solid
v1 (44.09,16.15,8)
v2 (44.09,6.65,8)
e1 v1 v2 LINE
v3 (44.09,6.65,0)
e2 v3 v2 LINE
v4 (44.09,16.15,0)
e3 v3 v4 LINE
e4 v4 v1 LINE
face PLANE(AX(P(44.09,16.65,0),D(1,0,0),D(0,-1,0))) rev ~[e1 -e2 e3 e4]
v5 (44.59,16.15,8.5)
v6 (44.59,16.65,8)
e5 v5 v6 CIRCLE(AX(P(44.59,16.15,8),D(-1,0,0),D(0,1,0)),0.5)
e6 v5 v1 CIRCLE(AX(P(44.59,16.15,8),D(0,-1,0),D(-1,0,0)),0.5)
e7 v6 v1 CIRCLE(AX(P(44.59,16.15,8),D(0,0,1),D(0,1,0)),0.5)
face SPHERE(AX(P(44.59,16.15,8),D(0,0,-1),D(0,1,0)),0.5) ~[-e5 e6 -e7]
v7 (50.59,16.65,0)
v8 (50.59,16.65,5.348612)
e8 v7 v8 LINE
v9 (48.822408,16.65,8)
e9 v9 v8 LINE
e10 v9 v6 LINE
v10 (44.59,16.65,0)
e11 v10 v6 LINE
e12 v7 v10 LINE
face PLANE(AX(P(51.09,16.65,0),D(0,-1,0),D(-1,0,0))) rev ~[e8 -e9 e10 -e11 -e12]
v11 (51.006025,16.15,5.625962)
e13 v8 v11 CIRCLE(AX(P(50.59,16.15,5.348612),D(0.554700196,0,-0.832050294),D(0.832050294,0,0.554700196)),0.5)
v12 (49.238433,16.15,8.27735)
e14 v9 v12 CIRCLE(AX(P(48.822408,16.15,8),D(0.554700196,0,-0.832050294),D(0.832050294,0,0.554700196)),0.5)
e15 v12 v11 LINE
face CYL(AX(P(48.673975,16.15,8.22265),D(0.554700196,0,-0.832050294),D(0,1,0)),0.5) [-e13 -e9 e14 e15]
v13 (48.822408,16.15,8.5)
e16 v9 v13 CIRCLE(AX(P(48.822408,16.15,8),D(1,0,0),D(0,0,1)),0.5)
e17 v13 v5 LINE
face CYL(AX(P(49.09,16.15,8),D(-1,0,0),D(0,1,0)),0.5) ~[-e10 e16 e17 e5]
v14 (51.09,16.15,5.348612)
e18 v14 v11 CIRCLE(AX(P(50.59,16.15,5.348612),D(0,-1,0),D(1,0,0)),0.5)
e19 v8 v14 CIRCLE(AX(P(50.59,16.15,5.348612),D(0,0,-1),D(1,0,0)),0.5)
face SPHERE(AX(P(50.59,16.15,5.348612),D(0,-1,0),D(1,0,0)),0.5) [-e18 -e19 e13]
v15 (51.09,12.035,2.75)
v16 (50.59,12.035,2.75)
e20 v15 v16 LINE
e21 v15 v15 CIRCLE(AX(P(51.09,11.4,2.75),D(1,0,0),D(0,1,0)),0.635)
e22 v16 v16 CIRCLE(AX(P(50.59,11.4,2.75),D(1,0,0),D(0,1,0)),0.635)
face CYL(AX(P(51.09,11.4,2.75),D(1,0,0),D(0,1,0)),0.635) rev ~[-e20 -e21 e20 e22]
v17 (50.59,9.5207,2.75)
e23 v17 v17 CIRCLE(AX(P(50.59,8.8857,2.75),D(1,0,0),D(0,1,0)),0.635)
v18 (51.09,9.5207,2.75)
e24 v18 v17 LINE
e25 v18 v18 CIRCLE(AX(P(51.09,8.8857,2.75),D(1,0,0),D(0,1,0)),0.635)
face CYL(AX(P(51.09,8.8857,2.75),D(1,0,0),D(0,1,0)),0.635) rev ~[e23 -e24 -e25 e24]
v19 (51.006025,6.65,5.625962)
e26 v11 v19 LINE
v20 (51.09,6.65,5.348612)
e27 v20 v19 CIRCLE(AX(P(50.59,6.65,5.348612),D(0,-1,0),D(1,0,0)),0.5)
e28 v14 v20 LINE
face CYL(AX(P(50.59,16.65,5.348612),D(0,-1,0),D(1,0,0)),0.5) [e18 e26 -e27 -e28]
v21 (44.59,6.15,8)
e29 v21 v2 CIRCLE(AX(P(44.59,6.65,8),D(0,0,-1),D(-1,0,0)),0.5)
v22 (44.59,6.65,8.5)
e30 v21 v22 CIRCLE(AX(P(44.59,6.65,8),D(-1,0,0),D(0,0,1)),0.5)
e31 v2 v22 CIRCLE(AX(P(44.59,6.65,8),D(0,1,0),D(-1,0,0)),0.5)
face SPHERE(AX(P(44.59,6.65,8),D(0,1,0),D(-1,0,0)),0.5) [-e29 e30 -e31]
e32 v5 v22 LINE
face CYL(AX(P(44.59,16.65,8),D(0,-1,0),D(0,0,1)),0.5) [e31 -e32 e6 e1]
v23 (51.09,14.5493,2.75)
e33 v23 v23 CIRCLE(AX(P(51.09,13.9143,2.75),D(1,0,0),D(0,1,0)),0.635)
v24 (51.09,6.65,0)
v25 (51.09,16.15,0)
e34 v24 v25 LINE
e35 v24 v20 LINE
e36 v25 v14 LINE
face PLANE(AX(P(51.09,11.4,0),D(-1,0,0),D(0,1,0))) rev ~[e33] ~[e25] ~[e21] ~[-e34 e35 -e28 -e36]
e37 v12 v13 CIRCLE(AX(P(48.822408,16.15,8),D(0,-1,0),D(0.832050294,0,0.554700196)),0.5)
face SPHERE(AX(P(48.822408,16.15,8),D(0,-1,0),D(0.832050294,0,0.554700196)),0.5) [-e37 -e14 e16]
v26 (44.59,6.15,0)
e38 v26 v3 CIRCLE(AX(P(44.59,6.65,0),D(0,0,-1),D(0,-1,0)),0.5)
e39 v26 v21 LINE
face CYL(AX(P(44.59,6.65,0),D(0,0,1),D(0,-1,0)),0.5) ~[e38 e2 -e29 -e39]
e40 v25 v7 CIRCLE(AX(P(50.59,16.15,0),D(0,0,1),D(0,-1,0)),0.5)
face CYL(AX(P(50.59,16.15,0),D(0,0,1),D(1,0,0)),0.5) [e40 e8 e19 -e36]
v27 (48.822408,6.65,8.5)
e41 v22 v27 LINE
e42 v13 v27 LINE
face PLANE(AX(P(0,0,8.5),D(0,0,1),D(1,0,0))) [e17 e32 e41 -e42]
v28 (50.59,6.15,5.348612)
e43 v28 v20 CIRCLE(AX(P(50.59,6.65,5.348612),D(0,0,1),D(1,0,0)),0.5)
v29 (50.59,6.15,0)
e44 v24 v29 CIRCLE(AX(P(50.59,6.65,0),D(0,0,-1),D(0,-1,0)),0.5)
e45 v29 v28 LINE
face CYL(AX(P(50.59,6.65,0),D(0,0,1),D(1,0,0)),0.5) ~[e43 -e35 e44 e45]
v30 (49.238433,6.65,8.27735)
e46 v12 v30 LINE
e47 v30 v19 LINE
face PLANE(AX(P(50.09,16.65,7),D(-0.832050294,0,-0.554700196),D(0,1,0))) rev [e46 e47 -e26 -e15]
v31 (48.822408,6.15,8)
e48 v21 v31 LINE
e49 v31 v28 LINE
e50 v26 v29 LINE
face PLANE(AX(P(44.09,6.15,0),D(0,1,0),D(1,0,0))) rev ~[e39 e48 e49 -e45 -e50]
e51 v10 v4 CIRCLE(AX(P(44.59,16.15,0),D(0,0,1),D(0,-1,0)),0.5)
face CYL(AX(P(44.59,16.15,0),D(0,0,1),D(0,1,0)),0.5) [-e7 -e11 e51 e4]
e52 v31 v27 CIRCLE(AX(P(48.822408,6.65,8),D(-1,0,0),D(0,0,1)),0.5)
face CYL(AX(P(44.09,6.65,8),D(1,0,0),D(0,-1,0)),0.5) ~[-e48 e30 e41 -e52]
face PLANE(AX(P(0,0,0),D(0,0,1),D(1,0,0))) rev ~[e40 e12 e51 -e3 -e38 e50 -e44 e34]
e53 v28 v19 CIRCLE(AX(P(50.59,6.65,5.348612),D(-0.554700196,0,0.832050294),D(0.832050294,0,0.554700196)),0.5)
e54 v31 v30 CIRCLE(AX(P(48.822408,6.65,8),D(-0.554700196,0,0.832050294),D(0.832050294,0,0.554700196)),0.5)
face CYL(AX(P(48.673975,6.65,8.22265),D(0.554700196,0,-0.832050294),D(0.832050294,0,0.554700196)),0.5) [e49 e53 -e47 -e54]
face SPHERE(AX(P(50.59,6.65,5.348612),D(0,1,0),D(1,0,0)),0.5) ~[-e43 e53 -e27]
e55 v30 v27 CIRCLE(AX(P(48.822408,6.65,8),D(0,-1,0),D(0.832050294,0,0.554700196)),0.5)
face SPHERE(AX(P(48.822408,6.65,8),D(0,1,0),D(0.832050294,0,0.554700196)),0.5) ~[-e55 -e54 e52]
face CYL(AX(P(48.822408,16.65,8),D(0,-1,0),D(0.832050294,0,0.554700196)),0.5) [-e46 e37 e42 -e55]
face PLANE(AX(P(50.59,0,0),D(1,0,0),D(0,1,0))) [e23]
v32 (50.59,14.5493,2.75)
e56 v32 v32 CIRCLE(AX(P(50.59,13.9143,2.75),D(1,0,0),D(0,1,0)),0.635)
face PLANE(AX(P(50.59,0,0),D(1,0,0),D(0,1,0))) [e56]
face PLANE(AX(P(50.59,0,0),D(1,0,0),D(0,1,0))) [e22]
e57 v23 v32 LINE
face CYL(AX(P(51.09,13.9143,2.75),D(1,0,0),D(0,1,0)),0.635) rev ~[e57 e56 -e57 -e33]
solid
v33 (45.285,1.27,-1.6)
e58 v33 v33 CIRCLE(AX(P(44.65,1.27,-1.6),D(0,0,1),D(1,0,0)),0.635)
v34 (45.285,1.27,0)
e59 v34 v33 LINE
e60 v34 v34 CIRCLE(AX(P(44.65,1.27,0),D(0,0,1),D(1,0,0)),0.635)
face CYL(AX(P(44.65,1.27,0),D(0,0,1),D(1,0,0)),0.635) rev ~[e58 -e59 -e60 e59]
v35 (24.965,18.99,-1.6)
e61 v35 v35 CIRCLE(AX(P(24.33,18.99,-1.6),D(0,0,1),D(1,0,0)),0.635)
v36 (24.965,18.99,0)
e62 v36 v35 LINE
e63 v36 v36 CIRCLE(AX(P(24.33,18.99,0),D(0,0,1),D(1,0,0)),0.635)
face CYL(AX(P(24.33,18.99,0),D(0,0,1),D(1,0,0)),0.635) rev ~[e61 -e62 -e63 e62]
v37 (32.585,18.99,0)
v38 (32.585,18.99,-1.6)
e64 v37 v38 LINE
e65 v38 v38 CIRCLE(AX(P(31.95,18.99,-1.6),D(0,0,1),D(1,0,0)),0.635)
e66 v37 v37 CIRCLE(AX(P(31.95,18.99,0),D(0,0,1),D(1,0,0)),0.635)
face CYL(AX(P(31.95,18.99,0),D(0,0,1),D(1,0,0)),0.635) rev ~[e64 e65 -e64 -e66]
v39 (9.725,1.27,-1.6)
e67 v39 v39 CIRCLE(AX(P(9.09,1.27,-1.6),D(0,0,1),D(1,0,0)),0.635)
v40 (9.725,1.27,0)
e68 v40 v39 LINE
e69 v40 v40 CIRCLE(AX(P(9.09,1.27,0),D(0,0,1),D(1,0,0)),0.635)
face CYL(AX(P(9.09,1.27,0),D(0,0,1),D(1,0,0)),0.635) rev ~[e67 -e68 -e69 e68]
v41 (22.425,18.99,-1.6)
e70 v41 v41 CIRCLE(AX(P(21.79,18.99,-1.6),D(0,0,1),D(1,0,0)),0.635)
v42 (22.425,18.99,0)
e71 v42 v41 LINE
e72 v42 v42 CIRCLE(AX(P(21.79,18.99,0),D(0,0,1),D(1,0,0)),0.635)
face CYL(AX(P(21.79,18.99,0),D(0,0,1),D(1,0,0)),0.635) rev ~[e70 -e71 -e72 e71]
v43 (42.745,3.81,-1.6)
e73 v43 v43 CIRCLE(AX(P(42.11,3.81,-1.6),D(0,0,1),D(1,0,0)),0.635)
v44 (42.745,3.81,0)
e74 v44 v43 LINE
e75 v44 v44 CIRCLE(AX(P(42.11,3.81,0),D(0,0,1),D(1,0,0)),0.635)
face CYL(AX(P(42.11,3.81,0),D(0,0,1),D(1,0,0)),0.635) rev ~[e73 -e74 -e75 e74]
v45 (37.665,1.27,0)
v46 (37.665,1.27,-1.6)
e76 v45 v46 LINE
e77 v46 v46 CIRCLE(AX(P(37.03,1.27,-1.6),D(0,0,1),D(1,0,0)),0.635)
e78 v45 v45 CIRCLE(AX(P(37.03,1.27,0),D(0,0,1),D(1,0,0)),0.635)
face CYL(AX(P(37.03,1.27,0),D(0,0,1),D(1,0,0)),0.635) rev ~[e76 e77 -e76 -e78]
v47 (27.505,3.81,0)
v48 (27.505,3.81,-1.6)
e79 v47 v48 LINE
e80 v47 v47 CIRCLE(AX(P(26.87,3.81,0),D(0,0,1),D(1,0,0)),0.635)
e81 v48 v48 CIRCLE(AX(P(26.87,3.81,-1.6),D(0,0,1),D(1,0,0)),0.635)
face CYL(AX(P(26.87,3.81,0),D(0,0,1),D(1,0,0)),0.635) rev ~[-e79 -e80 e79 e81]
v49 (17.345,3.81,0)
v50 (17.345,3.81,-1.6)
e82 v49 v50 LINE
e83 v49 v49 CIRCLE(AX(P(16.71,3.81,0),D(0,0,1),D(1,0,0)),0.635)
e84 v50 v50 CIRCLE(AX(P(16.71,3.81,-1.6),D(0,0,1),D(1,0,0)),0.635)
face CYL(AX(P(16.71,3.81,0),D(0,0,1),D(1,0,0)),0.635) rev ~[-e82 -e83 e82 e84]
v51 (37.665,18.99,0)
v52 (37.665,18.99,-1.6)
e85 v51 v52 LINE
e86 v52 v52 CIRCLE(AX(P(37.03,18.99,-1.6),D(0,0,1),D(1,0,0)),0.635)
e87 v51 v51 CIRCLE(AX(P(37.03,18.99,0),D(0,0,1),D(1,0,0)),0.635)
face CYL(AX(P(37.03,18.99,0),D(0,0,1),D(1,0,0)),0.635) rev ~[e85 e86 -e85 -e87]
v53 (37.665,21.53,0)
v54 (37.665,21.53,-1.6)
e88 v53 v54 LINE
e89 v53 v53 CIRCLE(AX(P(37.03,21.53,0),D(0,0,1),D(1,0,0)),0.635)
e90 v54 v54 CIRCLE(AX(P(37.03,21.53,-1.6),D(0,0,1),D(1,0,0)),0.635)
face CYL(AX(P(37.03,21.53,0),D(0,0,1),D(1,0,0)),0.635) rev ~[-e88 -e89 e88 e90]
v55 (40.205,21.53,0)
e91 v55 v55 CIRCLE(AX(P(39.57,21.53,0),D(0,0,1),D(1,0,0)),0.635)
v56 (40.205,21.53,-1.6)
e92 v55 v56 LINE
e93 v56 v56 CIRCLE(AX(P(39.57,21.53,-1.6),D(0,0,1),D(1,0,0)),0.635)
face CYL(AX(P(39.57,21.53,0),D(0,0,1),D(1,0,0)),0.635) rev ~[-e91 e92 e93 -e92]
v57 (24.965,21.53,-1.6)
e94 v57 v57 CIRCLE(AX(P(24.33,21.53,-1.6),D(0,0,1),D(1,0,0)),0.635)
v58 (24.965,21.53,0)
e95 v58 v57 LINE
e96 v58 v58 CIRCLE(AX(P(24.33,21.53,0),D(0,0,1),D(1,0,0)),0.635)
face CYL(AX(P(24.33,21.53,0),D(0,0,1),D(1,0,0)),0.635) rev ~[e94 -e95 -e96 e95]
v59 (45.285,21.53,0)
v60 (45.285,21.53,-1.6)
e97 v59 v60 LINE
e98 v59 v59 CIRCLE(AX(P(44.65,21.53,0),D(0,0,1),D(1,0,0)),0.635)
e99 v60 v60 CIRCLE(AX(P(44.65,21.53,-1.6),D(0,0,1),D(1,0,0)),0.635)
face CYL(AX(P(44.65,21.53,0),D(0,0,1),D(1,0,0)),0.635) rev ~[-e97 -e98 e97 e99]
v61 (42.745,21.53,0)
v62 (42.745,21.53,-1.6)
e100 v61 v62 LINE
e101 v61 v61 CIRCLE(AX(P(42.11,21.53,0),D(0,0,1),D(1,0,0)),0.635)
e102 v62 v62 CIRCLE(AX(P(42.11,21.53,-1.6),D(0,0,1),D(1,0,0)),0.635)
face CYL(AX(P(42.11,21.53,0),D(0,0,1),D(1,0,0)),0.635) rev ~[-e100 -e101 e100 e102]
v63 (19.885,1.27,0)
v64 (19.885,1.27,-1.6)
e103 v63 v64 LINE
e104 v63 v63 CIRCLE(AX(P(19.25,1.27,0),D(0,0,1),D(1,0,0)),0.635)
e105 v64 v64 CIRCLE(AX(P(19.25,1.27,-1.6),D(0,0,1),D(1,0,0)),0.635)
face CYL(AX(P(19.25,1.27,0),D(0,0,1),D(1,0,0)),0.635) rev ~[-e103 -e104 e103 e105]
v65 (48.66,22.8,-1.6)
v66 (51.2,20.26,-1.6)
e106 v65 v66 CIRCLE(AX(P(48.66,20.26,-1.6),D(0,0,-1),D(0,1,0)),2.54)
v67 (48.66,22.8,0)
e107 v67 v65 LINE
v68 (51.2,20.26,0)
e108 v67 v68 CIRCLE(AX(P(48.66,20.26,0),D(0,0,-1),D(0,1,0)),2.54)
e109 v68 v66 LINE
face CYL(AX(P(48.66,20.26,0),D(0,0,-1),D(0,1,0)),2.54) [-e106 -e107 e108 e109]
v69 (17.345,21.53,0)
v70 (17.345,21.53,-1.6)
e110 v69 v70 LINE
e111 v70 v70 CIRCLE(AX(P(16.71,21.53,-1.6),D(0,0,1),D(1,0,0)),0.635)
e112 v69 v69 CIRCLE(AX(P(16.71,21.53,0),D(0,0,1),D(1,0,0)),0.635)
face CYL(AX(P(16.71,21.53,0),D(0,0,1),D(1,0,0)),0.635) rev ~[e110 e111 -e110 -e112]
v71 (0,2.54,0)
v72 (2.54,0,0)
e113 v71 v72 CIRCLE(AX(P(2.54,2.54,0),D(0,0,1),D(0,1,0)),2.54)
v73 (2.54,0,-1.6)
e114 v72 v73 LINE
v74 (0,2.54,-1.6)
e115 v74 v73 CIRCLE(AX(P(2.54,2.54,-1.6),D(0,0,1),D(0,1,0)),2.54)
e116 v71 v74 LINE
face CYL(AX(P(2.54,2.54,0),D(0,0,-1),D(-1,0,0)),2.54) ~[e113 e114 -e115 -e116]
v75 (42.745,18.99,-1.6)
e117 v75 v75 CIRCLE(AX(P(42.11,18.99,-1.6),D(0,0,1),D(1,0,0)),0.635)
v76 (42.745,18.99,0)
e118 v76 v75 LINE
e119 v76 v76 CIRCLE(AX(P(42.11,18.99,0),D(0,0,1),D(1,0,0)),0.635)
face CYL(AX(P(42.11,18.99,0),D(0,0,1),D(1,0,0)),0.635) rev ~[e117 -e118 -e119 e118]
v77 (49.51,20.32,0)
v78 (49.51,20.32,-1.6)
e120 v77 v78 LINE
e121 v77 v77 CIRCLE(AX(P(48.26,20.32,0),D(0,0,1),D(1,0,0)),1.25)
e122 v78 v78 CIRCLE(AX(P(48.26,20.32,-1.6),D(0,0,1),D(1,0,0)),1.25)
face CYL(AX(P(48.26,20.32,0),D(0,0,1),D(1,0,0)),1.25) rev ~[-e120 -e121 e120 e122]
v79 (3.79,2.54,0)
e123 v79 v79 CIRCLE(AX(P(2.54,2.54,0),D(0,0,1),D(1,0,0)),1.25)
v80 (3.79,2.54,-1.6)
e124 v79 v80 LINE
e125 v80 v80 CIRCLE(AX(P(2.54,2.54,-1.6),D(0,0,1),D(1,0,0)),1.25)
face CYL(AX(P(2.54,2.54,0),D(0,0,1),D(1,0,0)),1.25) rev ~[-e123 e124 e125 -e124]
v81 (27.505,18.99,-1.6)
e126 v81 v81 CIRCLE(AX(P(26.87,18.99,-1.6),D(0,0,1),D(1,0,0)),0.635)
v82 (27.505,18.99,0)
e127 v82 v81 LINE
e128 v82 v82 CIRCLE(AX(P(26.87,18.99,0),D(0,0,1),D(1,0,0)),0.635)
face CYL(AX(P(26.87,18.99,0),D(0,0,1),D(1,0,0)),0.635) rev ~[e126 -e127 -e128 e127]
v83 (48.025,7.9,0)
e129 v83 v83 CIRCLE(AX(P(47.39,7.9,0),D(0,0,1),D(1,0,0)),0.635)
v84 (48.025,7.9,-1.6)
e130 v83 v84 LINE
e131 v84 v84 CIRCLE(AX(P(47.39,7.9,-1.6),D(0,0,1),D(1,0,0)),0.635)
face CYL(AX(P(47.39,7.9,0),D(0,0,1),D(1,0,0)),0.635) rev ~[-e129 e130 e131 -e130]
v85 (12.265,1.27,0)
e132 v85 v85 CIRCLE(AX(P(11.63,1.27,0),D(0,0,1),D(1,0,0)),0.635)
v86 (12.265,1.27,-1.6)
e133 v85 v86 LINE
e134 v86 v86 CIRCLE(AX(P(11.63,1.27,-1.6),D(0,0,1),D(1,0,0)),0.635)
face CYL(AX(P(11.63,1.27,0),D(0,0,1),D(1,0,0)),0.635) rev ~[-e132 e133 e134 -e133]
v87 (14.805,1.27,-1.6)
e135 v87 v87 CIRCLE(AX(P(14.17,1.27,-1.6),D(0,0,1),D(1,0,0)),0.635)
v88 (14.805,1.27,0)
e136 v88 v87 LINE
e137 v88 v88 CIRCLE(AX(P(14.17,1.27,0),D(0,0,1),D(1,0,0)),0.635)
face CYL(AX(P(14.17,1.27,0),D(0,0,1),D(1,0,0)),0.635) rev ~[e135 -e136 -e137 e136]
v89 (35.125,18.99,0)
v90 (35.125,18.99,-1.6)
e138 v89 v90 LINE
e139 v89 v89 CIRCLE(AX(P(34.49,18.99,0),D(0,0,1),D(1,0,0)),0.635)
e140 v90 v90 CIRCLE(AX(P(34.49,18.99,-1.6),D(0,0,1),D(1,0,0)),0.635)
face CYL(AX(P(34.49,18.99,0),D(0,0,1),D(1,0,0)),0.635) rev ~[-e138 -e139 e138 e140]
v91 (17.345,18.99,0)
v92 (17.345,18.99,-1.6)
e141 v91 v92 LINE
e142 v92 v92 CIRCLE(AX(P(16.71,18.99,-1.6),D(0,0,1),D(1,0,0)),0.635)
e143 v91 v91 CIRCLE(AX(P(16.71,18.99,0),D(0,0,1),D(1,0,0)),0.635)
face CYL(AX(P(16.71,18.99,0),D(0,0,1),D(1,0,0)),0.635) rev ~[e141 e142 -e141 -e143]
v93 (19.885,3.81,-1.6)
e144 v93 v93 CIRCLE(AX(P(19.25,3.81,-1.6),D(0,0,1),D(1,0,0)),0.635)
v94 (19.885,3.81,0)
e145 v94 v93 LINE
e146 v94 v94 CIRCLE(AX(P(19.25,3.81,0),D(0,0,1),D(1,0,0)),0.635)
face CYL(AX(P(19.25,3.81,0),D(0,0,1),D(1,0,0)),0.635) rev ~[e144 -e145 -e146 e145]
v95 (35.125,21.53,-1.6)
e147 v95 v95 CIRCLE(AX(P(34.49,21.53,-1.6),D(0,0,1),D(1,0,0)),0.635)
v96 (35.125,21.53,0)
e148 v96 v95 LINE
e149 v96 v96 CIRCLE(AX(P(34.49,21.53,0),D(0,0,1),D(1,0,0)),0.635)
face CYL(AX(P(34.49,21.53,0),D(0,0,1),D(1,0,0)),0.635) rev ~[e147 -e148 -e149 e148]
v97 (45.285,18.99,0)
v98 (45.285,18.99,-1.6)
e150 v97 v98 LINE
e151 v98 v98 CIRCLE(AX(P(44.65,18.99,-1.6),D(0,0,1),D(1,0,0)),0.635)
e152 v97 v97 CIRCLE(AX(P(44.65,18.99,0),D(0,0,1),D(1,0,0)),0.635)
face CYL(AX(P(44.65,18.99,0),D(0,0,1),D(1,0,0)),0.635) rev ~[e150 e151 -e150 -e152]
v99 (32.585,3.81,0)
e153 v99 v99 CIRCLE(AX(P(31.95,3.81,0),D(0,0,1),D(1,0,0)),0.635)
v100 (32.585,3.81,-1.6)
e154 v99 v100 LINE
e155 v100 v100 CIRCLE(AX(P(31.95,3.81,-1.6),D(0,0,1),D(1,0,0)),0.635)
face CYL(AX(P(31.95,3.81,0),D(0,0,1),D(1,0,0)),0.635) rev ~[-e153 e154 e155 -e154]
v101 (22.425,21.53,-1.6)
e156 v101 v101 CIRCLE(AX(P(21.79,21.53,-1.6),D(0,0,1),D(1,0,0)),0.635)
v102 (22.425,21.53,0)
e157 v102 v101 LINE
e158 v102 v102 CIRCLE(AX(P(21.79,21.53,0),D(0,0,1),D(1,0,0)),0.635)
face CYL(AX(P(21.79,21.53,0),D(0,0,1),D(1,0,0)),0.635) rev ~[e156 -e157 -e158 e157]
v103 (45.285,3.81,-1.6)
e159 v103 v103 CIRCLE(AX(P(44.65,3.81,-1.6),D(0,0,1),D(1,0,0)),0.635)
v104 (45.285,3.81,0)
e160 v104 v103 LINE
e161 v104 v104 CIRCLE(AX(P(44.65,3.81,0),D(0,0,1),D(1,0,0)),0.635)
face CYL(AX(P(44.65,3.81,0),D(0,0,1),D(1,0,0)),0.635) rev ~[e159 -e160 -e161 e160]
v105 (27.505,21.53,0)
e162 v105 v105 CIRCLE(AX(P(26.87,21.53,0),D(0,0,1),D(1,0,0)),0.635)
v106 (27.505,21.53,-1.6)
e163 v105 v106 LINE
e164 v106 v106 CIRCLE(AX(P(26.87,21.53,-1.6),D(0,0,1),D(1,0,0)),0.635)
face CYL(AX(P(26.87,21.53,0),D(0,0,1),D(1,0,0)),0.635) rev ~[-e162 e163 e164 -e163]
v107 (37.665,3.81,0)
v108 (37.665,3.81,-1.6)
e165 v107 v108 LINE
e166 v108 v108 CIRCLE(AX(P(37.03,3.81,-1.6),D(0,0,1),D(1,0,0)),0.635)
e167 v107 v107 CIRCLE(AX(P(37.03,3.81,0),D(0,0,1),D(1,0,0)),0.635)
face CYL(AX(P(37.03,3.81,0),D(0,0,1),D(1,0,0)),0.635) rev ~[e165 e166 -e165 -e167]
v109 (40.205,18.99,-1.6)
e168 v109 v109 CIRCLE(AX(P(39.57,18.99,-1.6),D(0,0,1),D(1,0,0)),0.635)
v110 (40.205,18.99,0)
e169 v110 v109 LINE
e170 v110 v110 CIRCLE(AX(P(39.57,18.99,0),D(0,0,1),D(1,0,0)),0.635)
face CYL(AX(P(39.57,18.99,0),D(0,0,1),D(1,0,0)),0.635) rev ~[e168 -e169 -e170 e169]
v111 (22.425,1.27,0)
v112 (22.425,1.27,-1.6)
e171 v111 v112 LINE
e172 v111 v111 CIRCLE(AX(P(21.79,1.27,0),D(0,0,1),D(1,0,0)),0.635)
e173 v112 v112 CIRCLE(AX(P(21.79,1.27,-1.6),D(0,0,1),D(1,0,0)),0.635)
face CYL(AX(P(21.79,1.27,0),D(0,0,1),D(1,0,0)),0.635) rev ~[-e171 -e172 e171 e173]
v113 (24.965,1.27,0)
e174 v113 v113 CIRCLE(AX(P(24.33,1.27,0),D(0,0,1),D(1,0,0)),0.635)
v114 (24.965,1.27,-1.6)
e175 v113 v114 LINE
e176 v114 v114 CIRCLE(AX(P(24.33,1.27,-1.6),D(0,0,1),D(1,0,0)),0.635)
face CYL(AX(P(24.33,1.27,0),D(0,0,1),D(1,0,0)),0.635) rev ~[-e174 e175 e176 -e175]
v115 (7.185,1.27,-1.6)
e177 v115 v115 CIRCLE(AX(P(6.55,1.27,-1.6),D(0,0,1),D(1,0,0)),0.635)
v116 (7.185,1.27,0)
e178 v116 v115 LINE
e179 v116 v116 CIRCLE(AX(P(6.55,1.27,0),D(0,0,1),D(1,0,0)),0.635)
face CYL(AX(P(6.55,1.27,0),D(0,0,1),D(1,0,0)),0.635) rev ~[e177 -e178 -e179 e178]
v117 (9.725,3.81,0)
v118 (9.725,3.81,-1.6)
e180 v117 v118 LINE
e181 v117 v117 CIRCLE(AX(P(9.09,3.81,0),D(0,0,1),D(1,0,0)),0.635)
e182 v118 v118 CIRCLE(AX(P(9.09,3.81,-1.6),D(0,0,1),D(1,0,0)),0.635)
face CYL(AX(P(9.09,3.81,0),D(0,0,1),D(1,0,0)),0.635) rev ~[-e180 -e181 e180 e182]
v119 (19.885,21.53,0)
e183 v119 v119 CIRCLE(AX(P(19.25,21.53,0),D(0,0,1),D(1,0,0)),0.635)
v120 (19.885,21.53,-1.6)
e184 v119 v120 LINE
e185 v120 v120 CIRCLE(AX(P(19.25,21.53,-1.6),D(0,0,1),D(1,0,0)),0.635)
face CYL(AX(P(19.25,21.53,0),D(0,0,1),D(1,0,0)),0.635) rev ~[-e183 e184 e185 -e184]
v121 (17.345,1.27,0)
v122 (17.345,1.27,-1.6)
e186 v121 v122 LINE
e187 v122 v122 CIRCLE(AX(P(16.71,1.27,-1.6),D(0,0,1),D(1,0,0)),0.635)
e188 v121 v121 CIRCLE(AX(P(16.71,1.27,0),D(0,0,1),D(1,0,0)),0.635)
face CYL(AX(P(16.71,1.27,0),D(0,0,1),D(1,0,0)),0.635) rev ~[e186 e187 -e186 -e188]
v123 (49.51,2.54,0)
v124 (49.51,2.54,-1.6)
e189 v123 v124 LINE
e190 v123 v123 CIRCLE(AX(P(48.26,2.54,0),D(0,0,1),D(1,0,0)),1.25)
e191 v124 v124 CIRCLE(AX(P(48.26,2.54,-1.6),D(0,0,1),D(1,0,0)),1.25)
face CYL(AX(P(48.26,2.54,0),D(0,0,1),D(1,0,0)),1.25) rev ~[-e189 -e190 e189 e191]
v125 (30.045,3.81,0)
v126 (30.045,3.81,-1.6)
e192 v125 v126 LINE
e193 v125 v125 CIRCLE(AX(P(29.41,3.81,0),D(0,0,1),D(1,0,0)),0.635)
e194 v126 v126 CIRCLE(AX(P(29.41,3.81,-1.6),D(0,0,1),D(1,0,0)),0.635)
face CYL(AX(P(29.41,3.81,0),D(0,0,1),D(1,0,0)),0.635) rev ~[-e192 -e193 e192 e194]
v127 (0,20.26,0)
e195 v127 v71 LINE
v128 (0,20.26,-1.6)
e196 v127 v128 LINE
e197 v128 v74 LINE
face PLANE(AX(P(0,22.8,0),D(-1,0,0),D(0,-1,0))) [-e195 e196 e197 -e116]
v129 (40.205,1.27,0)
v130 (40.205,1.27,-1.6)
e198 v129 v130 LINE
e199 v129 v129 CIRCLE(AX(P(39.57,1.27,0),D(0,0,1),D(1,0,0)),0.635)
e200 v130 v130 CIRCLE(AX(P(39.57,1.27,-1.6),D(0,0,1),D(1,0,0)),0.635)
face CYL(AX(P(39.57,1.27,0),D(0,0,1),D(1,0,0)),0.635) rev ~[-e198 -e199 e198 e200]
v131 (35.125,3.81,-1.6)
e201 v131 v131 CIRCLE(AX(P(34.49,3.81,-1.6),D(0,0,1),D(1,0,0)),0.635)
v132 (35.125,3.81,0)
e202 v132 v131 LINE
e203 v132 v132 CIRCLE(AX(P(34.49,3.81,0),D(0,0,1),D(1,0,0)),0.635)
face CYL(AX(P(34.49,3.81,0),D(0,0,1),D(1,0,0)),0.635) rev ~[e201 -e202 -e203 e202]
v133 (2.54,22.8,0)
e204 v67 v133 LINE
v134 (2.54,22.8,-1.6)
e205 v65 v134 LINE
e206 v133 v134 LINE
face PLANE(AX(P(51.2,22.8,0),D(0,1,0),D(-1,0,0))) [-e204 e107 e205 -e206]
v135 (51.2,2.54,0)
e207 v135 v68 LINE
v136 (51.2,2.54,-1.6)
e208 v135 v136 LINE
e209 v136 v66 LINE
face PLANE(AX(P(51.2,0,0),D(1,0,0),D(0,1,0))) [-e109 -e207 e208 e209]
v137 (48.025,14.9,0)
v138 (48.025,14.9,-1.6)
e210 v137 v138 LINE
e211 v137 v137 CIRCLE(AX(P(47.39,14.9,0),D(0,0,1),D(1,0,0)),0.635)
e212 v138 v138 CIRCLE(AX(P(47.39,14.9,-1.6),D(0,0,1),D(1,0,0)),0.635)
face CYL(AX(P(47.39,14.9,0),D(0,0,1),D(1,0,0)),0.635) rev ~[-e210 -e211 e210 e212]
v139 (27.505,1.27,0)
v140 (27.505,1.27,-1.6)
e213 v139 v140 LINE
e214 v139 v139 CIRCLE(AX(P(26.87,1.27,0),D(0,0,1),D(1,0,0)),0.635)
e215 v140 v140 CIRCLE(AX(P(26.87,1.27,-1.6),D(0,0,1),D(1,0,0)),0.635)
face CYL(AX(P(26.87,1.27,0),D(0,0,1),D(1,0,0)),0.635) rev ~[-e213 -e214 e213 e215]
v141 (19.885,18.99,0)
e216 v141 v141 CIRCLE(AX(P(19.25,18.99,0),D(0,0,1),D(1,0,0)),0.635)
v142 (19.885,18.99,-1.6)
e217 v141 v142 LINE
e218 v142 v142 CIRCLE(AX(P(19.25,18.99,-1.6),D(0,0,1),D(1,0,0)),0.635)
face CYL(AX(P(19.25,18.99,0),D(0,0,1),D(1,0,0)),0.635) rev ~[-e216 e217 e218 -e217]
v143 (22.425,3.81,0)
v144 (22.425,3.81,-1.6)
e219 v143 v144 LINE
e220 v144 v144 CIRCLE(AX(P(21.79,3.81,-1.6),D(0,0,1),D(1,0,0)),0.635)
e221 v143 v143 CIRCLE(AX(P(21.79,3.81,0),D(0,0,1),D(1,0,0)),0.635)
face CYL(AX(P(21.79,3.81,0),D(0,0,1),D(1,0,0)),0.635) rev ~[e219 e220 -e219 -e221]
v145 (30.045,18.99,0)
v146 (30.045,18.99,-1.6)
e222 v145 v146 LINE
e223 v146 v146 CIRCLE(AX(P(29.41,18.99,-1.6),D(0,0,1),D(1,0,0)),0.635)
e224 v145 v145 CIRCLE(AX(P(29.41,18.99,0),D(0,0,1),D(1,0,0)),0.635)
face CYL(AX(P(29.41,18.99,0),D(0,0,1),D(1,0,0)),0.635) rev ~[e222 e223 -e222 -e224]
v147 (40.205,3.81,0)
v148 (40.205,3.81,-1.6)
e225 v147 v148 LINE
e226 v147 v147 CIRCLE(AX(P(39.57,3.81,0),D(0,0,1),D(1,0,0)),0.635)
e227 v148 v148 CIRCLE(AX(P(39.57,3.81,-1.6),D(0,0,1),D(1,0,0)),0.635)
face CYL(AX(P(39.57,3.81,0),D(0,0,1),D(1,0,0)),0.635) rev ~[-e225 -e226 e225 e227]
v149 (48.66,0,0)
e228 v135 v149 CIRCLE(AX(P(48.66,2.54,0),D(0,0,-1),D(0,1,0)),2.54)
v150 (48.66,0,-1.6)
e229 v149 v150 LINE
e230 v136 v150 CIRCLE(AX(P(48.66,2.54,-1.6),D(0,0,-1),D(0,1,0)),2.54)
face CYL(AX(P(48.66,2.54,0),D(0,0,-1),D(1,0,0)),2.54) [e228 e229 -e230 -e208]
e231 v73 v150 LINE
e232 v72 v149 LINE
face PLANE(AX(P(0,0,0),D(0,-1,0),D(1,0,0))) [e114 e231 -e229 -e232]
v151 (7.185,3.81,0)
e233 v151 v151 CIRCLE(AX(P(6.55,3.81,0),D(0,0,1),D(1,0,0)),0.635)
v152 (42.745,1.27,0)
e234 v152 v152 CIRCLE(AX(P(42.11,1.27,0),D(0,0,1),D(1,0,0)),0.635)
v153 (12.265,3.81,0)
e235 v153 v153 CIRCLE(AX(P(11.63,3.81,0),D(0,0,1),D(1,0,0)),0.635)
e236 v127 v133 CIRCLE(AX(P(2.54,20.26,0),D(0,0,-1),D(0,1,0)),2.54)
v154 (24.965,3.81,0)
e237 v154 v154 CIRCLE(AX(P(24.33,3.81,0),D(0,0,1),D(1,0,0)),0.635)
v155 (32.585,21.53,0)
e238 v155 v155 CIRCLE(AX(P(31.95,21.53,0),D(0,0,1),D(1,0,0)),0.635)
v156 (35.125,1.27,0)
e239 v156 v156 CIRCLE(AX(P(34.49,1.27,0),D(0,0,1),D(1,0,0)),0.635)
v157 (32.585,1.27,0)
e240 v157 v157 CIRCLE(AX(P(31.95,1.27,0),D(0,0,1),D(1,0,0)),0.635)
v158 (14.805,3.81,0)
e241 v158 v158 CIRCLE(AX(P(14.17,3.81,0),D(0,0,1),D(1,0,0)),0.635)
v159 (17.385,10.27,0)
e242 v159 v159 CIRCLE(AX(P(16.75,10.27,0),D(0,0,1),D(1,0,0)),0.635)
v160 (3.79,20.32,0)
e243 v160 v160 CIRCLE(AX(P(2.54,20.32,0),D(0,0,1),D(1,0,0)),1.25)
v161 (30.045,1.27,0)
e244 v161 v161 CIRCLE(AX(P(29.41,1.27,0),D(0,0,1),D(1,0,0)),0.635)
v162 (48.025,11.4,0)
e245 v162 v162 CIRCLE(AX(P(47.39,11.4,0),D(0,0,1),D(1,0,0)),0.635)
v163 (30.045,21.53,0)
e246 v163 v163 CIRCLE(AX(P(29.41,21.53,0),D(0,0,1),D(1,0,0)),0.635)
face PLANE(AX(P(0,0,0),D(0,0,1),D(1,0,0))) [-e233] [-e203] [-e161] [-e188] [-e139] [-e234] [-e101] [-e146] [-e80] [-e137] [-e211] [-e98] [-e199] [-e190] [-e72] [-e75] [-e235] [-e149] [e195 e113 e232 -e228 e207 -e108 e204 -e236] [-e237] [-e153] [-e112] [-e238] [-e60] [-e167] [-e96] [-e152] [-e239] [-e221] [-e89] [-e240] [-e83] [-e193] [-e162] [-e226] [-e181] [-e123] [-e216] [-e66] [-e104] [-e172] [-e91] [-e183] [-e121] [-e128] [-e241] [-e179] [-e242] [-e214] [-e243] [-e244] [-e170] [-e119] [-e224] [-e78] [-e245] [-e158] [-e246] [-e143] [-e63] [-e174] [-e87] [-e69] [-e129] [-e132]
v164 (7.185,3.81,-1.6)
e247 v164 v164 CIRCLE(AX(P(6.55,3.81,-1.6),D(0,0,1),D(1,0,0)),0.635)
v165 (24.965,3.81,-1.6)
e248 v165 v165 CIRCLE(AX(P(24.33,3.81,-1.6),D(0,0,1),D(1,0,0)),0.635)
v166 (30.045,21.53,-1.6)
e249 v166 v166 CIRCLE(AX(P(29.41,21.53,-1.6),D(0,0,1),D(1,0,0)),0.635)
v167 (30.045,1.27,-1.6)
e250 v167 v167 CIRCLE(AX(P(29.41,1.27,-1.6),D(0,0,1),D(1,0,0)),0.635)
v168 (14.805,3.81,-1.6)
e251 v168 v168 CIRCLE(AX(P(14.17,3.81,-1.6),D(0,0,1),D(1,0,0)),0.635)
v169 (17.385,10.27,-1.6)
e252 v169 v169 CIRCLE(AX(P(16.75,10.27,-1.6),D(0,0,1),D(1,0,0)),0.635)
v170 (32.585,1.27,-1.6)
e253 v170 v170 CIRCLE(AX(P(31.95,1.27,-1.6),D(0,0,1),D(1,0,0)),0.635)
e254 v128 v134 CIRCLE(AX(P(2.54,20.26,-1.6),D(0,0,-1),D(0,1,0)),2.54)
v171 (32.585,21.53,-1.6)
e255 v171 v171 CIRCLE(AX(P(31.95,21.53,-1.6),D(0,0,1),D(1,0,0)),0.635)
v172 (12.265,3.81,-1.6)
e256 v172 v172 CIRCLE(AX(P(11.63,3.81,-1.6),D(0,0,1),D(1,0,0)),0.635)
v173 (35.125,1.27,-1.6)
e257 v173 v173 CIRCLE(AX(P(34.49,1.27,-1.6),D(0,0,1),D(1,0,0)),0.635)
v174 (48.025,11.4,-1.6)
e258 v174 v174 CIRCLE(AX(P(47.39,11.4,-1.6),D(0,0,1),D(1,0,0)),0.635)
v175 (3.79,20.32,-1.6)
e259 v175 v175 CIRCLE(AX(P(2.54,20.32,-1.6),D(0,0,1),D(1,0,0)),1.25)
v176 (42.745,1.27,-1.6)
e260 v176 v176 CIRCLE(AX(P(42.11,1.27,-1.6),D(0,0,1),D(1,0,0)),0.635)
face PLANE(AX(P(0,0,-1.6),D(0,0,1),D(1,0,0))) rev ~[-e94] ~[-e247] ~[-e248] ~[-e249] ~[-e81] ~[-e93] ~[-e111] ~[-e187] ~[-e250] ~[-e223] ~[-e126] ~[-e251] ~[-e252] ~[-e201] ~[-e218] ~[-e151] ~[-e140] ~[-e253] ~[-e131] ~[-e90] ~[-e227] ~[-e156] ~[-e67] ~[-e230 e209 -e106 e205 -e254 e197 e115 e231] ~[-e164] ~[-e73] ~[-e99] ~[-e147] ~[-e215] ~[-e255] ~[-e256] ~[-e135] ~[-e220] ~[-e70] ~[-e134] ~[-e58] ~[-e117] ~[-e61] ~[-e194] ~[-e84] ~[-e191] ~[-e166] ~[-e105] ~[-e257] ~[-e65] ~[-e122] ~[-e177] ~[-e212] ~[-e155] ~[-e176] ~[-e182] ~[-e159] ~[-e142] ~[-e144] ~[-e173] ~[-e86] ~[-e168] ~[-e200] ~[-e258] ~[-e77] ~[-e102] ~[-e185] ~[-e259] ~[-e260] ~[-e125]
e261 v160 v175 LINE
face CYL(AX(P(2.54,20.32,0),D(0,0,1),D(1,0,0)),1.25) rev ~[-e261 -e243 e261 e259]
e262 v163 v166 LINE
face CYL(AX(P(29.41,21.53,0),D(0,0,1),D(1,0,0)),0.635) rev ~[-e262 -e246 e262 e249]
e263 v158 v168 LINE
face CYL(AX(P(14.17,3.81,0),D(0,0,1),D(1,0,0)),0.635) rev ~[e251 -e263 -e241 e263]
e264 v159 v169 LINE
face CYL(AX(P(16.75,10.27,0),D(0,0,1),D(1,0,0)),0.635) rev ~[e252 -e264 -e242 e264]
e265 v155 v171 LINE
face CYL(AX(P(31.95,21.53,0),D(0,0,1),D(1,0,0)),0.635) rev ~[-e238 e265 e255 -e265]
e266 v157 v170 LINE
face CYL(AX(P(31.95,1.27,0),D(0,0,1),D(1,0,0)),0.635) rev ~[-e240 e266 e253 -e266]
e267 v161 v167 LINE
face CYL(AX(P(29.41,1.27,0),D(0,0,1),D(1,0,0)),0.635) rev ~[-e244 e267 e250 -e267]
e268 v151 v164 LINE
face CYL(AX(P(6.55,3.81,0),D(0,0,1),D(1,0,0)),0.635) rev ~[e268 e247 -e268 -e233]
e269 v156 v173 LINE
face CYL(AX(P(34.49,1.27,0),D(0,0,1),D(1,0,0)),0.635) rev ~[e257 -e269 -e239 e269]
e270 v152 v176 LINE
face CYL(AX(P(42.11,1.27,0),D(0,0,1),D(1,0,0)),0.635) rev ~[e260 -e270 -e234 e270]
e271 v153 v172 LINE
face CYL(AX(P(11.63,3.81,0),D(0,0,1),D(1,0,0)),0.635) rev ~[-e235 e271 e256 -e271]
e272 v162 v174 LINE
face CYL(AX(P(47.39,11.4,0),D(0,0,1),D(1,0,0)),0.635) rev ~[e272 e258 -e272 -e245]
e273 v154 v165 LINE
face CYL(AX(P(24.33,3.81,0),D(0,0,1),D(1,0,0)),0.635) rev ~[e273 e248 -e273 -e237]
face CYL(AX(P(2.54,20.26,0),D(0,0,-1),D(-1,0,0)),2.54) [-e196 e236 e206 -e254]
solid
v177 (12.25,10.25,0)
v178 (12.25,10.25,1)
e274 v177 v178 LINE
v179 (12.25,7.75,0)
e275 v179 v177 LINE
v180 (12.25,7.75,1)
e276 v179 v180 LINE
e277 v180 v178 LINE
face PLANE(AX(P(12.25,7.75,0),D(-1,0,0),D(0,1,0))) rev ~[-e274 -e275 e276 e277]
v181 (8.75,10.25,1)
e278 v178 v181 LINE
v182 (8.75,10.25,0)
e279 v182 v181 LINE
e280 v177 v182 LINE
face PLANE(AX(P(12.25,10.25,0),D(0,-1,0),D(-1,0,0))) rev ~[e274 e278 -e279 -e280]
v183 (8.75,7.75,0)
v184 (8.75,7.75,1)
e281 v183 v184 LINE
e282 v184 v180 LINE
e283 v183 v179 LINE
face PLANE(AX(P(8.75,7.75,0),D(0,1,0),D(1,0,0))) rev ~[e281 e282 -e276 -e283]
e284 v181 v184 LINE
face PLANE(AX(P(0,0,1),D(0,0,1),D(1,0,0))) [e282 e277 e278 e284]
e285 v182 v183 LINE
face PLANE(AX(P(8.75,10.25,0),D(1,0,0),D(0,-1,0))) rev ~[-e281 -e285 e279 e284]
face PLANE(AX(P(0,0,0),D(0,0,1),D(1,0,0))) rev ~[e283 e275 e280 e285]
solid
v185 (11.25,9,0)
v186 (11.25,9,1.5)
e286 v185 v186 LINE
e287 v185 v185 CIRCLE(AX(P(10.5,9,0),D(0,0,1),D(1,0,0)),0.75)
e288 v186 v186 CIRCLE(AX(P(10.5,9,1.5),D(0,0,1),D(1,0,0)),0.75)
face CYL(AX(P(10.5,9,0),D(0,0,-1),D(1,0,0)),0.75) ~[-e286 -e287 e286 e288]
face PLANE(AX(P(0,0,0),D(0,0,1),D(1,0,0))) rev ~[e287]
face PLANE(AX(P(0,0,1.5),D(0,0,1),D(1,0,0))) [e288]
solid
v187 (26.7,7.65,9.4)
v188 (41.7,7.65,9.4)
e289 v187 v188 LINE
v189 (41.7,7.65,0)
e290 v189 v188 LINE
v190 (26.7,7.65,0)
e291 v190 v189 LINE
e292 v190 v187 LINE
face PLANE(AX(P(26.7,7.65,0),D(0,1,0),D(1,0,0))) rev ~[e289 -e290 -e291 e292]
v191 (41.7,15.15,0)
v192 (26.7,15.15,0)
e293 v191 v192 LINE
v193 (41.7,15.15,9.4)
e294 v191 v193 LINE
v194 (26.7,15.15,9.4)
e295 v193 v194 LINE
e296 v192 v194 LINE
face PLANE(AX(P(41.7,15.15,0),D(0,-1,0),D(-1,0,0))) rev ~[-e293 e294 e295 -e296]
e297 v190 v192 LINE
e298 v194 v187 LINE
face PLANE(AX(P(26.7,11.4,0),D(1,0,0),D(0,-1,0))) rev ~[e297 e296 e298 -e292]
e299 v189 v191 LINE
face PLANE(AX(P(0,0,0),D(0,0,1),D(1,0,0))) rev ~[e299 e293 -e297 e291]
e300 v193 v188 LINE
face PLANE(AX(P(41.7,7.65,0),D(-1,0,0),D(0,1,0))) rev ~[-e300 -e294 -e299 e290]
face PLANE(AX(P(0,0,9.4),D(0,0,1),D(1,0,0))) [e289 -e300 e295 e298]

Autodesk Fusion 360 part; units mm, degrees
sketch "pcb" plane through (0, 0, 0) normal (0, 0, 1) x (1, 0, 0)
  line L0 (0, 0) -> (51.2, 0)
  line L1 (51.2, 0) -> (51.2, 22.8)
  line L2 (51.2, 22.8) -> (0, 22.8)
  line L3 (0, 22.8) -> (0, 0)
  circle A0 centre (2.54, 2.54) radius 1.25
  circle A1 centre (2.54, 20.32) radius 1.25
  circle A2 centre (48.26, 20.32) radius 1.25
  circle A3 centre (48.26, 2.54) radius 1.25
  line L4 (0, 11.4) -> (51.2, 11.4) construction
  line L5 (25.6, 22.8) -> (25.6, 0) construction
  line L6 (0, 1.27) -> (51.2, 1.27) construction
  circle A4 centre (24.33, 1.27) radius 0.635
  circle A5 centre (21.79, 1.27) radius 0.635
  circle A6 centre (19.25, 1.27) radius 0.635
  circle A7 centre (16.71, 1.27) radius 0.635
  circle A8 centre (14.17, 1.27) radius 0.635
  circle A9 centre (11.63, 1.27) radius 0.635
  circle A10 centre (6.55, 1.27) radius 0.635
  circle A11 centre (26.87, 1.27) radius 0.635
  circle A12 centre (29.41, 1.27) radius 0.635
  circle A13 centre (31.95, 1.27) radius 0.635
  circle A14 centre (34.49, 1.27) radius 0.635
  circle A15 centre (39.57, 1.27) radius 0.635
  circle A16 centre (37.03, 1.27) radius 0.635
  circle A17 centre (42.11, 1.27) radius 0.635
  circle A18 centre (44.65, 1.27) radius 0.635
  circle A19 centre (44.65, 21.53) radius 0.635
  circle A20 centre (39.57, 21.53) radius 0.635
  circle A21 centre (34.49, 21.53) radius 0.635
  circle A22 centre (31.95, 21.53) radius 0.635
  circle A23 centre (29.41, 21.53) radius 0.635
  circle A24 centre (26.87, 21.53) radius 0.635
  circle A25 centre (42.11, 21.53) radius 0.635
  circle A26 centre (37.03, 21.53) radius 0.635
  circle A27 centre (24.33, 21.53) radius 0.635
  circle A28 centre (21.79, 21.53) radius 0.635
  circle A29 centre (19.25, 21.53) radius 0.635
  circle A30 centre (16.71, 21.53) radius 0.635
  line L7 (0, 2.54) -> (51.2, 2.54) construction
  circle A31 centre (6.55, 3.81) radius 0.635
  circle A32 centre (11.63, 3.81) radius 0.635
  circle A33 centre (14.17, 3.81) radius 0.635
  circle A34 centre (16.71, 3.81) radius 0.635
  circle A35 centre (19.25, 3.81) radius 0.635
  circle A36 centre (21.79, 3.81) radius 0.635
  circle A37 centre (24.33, 3.81) radius 0.635
  circle A38 centre (26.87, 3.81) radius 0.635
  circle A39 centre (29.41, 3.81) radius 0.635
  circle A40 centre (31.95, 3.81) radius 0.635
  circle A41 centre (34.49, 3.81) radius 0.635
  circle A42 centre (37.03, 3.81) radius 0.635
  circle A43 centre (39.57, 3.81) radius 0.635
  circle A44 centre (42.11, 3.81) radius 0.635
  circle A45 centre (44.65, 3.81) radius 0.635
  line L8 (0, 20.26) -> (51.2, 20.26) construction
  circle A46 centre (16.71, 18.99) radius 0.635
  circle A47 centre (19.25, 18.99) radius 0.635
  circle A48 centre (21.79, 18.99) radius 0.635
  circle A49 centre (24.33, 18.99) radius 0.635
  circle A50 centre (26.87, 18.99) radius 0.635
  circle A51 centre (29.41, 18.99) radius 0.635
  circle A52 centre (31.95, 18.99) radius 0.635
  circle A53 centre (34.49, 18.99) radius 0.635
  circle A54 centre (37.03, 18.99) radius 0.635
  circle A55 centre (39.57, 18.99) radius 0.635
  circle A56 centre (42.11, 18.99) radius 0.635
  circle A57 centre (44.65, 18.99) radius 0.635
  circle A58 centre (47.39, 11.4) radius 0.635
  circle A59 centre (47.39, 14.9) radius 0.635
  circle A60 centre (47.39, 7.9) radius 0.635
  circle A61 centre (16.75, 10.27) radius 0.635
  circle A62 centre (9.09, 1.27) radius 0.635
  circle A63 centre (9.09, 3.81) radius 0.635
  dimension "d1" = 51.2
  dimension "d2" = 22.8
  dimension "d3" = 2.5
  dimension "d4" = 2.54
  dimension "d5" = 2.54
  dimension "d6" = 2.5
  dimension "d7" = 2.54
  dimension "d8" = 20.32
  dimension "d9" = 2.5
  dimension "d10" = 48.26
  dimension "d11" = 20.32
  dimension "d12" = 2.5
  dimension "d13" = 2.54
  dimension "d14" = 48.26
  dimension "d40" = 1.27
  dimension "d41" = 1.27
  dimension "d42" = 1.27
  dimension "d43" = 1.27
  dimension "d44" = 1.27
  dimension "d45" = 1.27
  dimension "d46" = 1.27
  dimension "d47" = 2.54
  dimension "d48" = 2.54
  dimension "d49" = 2.54
  dimension "d50" = 2.54
  dimension "d51" = 1.27
  dimension "d53" = 1.27
  dimension "d55" = 2.54
  dimension "d58" = 1.27
  dimension "d59" = 1.27
  dimension "d60" = 1.27
  dimension "d61" = 1.27
  dimension "d62" = 2.54
  dimension "d63" = 2.54
  dimension "d64" = 2.54
  dimension "d65" = 1.27
  dimension "d68" = 1.27
  dimension "d74" = 1.27
  dimension "d75" = 2.54
  dimension "d76" = 2.54
  dimension "d77" = 1.27
  dimension "d78" = 1.27
  dimension "d79" = 2.54
  dimension "d80" = 2.54
  dimension "d95" = 1.27
  dimension "d96" = 2.54
  dimension "d98" = 1.27
  dimension "d99" = 3.81
  dimension "d100" = 1.27
  dimension "d101" = 3.81
  dimension "d102" = 3.5
  dimension "d123" = 1.27
  dimension "d124" = 16.75
  dimension "d125" = 9
  dimension "d133" = 1.27
  dimension "d134" = 2.54
  dimension "d135" = 2.54
extrude "Extrude1" add sketch "pcb" against normal blind 1.6 makes body 1
fillet "Fillet1" radius 2.54 4 edges at (0, 0, -0.8) (0, 22.8, -0.8) (51.2, 0, -0.8) (51.2, 22.8, -0.8) on bodies 1
sketch "Components" plane through (0, 0, 0) normal (0, 0, 1) x (1, 0, 0)
  line L0 (51.09, 16.65) -> (44.09, 16.65)
  line L1 (44.09, 16.65) -> (44.09, 6.15)
  line L2 (44.09, 6.15) -> (51.09, 6.15)
  line L3 (51.09, 6.15) -> (51.09, 16.65)
  line L4 (51.09, 16.65) -> (44.09, 6.15) construction
  line L5 (44.09, 16.65) -> (51.09, 6.15) construction
  line L6 (0, 11.4) -> (51.2, 11.4)
  line L7 (51.2, 0) -> (51.2, 22.8)
  line L8 (41.7, 15.15) -> (26.7, 15.15)
  line L9 (26.7, 15.15) -> (26.7, 7.65)
  line L10 (26.7, 7.65) -> (41.7, 7.65)
  line L11 (41.7, 7.65) -> (41.7, 15.15)
  line L12 (41.7, 15.15) -> (26.7, 7.65) construction
  line L13 (26.7, 15.15) -> (41.7, 7.65) construction
  line L14 (12.25, 10.25) -> (8.75, 10.25)
  line L15 (8.75, 10.25) -> (8.75, 7.75)
  line L16 (8.75, 7.75) -> (12.25, 7.75)
  line L17 (12.25, 7.75) -> (12.25, 10.25)
  line L18 (12.25, 10.25) -> (8.75, 7.75) construction
  line L19 (8.75, 10.25) -> (12.25, 7.75) construction
  line L20 (0, 20.26) -> (0, 2.54)
  line L21 (2.54, 0) -> (48.66, 0)
  circle A0 centre (10.5, 9) radius 0.75
  point P0 (47.59, 11.4)
  point P1 (34.2, 11.4)
  point P2 (10.5, 9)
  dimension "d103" = 7
  dimension "d104" = 10.5
  dimension "d105" = 3.61
  dimension "d116" = 15
  dimension "d117" = 7.5
  dimension "d118" = 9.5
  dimension "d119" = 3.5
  dimension "d120" = 2.5
  dimension "d121" = 10.5
  dimension "d122" = 9
  dimension "d130" = 1.5
extrude "Extrude4" add sketch "Components" along normal blind 8.5 separate body contours L0 L1 L3 L6 | L1 L2 L3 L6 makes body 2
chamfer "Chamfer2" distance 2 distance2 3 1 edges at (51.09, 11.4, 8.5) measured on face at (46.4233, 9.65, 8.5) on bodies 2
sketch "Terminal Holes" plane through (51.09, 0, 0) normal (1, 0, 0) x (0, 1, 0)
  line L0 (16.65, 5.5) -> (6.15, 5.5)
  line L1 (6.15, 5.5) -> (6.15, 0)
  line L2 (6.15, 0) -> (16.65, 0)
  line L3 (16.65, 0) -> (16.65, 5.5)
  line L4 (11.4, 0) -> (11.4, 5.5) construction
  line L5 (6.15, 2.75) -> (16.65, 2.75) construction
  circle A0 centre (11.4, 2.75) radius 0.635
  circle A1 centre (13.9143, 2.75) radius 0.635
  circle A2 centre (8.8857, 2.75) radius 0.635
  point P0 (11.4, 0)
  dimension "d112" = 1.27
  dimension "d113" = 1.27
extrude "Extrude5" cut sketch "Terminal Holes" against normal blind 0.5 contours A0 | A1 | A2 bodies 2
fillet "Fillet2" radius 0.5 11 edges at (44.09, 16.65, 4.25) (51.09, 16.65, 2.75) (50.09, 16.65, 7) (46.59, 16.65, 8.5) (44.09, 11.4, 8.5) (44.09, 6.15, 4.25) (46.59, 6.15, 8.5) (49.09, 11.4, 8.5) (50.09, 6.15, 7) (51.09, 11.4, 5.5) (51.09, 6.15, 2.75) on bodies 2
extrude "Extrude6" add sketch "Components" along normal blind 9.4 separate body contours L6 L9 L10 L11 | L6 L8 L9 L11 makes body 3
extrude "Extrude7" add sketch "Components" along normal blind 1 separate body contours L14 L15 L16 L17 | A0 makes body 4
extrude "Extrude8" add sketch "Components" along normal blind 1.5 separate body contours A0 makes body 5
equation "HoleDia = 1.27 mm"
equation "HoleSpace = 0.1 in"
equation "Hole2Edge = 0.05 in"
equation "d40 = Hole2Edge"
equation "d41 = HoleDia"
equation "d42 = HoleSpace / 2"
equation "d43 = HoleDia"
equation "d44 = HoleDia"
equation "d45 = HoleDia"
equation "d46 = HoleDia"
equation "d47 = HoleSpace"
equation "d48 = HoleSpace"
equation "d49 = HoleSpace"
equation "d50 = HoleSpace"
equation "d51 = HoleDia"
equation "d53 = HoleDia"
equation "d55 = HoleSpace"
equation "d58 = HoleDia"
equation "d59 = HoleDia"
equation "d60 = HoleDia"
equation "d61 = HoleDia"
equation "d62 = HoleSpace"
equation "d63 = HoleSpace"
equation "d64 = HoleSpace"
equation "d65 = HoleSpace / 2"
equation "d68 = HoleDia"
equation "d74 = HoleDia"
equation "d75 = HoleSpace"
equation "d76 = HoleSpace"
equation "d77 = HoleDia"
equation "d78 = HoleDia"
equation "d79 = HoleSpace"
equation "d80 = HoleSpace"
equation "PinLength = 10.6 mm"
equation "HoleDepth = 4.6 mm"
equation "d95 = HoleSpace / 2"
equation "d96 = HoleSpace"
equation "d98 = HoleDia"
equation "d100 = HoleDia"
equation "d101 = d99"
equation "d104 = ( 3 * 3.5 ) * 1 mm"
equation "d105 = 0.15 in - 0.2 mm"
equation "d112 = HoleDia"
equation "d113 = HoleDia"
equation "d123 = HoleDia"
equation "d133 = HoleDia"
equation "d134 = HoleSpace"
equation "d135 = HoleSpace"
